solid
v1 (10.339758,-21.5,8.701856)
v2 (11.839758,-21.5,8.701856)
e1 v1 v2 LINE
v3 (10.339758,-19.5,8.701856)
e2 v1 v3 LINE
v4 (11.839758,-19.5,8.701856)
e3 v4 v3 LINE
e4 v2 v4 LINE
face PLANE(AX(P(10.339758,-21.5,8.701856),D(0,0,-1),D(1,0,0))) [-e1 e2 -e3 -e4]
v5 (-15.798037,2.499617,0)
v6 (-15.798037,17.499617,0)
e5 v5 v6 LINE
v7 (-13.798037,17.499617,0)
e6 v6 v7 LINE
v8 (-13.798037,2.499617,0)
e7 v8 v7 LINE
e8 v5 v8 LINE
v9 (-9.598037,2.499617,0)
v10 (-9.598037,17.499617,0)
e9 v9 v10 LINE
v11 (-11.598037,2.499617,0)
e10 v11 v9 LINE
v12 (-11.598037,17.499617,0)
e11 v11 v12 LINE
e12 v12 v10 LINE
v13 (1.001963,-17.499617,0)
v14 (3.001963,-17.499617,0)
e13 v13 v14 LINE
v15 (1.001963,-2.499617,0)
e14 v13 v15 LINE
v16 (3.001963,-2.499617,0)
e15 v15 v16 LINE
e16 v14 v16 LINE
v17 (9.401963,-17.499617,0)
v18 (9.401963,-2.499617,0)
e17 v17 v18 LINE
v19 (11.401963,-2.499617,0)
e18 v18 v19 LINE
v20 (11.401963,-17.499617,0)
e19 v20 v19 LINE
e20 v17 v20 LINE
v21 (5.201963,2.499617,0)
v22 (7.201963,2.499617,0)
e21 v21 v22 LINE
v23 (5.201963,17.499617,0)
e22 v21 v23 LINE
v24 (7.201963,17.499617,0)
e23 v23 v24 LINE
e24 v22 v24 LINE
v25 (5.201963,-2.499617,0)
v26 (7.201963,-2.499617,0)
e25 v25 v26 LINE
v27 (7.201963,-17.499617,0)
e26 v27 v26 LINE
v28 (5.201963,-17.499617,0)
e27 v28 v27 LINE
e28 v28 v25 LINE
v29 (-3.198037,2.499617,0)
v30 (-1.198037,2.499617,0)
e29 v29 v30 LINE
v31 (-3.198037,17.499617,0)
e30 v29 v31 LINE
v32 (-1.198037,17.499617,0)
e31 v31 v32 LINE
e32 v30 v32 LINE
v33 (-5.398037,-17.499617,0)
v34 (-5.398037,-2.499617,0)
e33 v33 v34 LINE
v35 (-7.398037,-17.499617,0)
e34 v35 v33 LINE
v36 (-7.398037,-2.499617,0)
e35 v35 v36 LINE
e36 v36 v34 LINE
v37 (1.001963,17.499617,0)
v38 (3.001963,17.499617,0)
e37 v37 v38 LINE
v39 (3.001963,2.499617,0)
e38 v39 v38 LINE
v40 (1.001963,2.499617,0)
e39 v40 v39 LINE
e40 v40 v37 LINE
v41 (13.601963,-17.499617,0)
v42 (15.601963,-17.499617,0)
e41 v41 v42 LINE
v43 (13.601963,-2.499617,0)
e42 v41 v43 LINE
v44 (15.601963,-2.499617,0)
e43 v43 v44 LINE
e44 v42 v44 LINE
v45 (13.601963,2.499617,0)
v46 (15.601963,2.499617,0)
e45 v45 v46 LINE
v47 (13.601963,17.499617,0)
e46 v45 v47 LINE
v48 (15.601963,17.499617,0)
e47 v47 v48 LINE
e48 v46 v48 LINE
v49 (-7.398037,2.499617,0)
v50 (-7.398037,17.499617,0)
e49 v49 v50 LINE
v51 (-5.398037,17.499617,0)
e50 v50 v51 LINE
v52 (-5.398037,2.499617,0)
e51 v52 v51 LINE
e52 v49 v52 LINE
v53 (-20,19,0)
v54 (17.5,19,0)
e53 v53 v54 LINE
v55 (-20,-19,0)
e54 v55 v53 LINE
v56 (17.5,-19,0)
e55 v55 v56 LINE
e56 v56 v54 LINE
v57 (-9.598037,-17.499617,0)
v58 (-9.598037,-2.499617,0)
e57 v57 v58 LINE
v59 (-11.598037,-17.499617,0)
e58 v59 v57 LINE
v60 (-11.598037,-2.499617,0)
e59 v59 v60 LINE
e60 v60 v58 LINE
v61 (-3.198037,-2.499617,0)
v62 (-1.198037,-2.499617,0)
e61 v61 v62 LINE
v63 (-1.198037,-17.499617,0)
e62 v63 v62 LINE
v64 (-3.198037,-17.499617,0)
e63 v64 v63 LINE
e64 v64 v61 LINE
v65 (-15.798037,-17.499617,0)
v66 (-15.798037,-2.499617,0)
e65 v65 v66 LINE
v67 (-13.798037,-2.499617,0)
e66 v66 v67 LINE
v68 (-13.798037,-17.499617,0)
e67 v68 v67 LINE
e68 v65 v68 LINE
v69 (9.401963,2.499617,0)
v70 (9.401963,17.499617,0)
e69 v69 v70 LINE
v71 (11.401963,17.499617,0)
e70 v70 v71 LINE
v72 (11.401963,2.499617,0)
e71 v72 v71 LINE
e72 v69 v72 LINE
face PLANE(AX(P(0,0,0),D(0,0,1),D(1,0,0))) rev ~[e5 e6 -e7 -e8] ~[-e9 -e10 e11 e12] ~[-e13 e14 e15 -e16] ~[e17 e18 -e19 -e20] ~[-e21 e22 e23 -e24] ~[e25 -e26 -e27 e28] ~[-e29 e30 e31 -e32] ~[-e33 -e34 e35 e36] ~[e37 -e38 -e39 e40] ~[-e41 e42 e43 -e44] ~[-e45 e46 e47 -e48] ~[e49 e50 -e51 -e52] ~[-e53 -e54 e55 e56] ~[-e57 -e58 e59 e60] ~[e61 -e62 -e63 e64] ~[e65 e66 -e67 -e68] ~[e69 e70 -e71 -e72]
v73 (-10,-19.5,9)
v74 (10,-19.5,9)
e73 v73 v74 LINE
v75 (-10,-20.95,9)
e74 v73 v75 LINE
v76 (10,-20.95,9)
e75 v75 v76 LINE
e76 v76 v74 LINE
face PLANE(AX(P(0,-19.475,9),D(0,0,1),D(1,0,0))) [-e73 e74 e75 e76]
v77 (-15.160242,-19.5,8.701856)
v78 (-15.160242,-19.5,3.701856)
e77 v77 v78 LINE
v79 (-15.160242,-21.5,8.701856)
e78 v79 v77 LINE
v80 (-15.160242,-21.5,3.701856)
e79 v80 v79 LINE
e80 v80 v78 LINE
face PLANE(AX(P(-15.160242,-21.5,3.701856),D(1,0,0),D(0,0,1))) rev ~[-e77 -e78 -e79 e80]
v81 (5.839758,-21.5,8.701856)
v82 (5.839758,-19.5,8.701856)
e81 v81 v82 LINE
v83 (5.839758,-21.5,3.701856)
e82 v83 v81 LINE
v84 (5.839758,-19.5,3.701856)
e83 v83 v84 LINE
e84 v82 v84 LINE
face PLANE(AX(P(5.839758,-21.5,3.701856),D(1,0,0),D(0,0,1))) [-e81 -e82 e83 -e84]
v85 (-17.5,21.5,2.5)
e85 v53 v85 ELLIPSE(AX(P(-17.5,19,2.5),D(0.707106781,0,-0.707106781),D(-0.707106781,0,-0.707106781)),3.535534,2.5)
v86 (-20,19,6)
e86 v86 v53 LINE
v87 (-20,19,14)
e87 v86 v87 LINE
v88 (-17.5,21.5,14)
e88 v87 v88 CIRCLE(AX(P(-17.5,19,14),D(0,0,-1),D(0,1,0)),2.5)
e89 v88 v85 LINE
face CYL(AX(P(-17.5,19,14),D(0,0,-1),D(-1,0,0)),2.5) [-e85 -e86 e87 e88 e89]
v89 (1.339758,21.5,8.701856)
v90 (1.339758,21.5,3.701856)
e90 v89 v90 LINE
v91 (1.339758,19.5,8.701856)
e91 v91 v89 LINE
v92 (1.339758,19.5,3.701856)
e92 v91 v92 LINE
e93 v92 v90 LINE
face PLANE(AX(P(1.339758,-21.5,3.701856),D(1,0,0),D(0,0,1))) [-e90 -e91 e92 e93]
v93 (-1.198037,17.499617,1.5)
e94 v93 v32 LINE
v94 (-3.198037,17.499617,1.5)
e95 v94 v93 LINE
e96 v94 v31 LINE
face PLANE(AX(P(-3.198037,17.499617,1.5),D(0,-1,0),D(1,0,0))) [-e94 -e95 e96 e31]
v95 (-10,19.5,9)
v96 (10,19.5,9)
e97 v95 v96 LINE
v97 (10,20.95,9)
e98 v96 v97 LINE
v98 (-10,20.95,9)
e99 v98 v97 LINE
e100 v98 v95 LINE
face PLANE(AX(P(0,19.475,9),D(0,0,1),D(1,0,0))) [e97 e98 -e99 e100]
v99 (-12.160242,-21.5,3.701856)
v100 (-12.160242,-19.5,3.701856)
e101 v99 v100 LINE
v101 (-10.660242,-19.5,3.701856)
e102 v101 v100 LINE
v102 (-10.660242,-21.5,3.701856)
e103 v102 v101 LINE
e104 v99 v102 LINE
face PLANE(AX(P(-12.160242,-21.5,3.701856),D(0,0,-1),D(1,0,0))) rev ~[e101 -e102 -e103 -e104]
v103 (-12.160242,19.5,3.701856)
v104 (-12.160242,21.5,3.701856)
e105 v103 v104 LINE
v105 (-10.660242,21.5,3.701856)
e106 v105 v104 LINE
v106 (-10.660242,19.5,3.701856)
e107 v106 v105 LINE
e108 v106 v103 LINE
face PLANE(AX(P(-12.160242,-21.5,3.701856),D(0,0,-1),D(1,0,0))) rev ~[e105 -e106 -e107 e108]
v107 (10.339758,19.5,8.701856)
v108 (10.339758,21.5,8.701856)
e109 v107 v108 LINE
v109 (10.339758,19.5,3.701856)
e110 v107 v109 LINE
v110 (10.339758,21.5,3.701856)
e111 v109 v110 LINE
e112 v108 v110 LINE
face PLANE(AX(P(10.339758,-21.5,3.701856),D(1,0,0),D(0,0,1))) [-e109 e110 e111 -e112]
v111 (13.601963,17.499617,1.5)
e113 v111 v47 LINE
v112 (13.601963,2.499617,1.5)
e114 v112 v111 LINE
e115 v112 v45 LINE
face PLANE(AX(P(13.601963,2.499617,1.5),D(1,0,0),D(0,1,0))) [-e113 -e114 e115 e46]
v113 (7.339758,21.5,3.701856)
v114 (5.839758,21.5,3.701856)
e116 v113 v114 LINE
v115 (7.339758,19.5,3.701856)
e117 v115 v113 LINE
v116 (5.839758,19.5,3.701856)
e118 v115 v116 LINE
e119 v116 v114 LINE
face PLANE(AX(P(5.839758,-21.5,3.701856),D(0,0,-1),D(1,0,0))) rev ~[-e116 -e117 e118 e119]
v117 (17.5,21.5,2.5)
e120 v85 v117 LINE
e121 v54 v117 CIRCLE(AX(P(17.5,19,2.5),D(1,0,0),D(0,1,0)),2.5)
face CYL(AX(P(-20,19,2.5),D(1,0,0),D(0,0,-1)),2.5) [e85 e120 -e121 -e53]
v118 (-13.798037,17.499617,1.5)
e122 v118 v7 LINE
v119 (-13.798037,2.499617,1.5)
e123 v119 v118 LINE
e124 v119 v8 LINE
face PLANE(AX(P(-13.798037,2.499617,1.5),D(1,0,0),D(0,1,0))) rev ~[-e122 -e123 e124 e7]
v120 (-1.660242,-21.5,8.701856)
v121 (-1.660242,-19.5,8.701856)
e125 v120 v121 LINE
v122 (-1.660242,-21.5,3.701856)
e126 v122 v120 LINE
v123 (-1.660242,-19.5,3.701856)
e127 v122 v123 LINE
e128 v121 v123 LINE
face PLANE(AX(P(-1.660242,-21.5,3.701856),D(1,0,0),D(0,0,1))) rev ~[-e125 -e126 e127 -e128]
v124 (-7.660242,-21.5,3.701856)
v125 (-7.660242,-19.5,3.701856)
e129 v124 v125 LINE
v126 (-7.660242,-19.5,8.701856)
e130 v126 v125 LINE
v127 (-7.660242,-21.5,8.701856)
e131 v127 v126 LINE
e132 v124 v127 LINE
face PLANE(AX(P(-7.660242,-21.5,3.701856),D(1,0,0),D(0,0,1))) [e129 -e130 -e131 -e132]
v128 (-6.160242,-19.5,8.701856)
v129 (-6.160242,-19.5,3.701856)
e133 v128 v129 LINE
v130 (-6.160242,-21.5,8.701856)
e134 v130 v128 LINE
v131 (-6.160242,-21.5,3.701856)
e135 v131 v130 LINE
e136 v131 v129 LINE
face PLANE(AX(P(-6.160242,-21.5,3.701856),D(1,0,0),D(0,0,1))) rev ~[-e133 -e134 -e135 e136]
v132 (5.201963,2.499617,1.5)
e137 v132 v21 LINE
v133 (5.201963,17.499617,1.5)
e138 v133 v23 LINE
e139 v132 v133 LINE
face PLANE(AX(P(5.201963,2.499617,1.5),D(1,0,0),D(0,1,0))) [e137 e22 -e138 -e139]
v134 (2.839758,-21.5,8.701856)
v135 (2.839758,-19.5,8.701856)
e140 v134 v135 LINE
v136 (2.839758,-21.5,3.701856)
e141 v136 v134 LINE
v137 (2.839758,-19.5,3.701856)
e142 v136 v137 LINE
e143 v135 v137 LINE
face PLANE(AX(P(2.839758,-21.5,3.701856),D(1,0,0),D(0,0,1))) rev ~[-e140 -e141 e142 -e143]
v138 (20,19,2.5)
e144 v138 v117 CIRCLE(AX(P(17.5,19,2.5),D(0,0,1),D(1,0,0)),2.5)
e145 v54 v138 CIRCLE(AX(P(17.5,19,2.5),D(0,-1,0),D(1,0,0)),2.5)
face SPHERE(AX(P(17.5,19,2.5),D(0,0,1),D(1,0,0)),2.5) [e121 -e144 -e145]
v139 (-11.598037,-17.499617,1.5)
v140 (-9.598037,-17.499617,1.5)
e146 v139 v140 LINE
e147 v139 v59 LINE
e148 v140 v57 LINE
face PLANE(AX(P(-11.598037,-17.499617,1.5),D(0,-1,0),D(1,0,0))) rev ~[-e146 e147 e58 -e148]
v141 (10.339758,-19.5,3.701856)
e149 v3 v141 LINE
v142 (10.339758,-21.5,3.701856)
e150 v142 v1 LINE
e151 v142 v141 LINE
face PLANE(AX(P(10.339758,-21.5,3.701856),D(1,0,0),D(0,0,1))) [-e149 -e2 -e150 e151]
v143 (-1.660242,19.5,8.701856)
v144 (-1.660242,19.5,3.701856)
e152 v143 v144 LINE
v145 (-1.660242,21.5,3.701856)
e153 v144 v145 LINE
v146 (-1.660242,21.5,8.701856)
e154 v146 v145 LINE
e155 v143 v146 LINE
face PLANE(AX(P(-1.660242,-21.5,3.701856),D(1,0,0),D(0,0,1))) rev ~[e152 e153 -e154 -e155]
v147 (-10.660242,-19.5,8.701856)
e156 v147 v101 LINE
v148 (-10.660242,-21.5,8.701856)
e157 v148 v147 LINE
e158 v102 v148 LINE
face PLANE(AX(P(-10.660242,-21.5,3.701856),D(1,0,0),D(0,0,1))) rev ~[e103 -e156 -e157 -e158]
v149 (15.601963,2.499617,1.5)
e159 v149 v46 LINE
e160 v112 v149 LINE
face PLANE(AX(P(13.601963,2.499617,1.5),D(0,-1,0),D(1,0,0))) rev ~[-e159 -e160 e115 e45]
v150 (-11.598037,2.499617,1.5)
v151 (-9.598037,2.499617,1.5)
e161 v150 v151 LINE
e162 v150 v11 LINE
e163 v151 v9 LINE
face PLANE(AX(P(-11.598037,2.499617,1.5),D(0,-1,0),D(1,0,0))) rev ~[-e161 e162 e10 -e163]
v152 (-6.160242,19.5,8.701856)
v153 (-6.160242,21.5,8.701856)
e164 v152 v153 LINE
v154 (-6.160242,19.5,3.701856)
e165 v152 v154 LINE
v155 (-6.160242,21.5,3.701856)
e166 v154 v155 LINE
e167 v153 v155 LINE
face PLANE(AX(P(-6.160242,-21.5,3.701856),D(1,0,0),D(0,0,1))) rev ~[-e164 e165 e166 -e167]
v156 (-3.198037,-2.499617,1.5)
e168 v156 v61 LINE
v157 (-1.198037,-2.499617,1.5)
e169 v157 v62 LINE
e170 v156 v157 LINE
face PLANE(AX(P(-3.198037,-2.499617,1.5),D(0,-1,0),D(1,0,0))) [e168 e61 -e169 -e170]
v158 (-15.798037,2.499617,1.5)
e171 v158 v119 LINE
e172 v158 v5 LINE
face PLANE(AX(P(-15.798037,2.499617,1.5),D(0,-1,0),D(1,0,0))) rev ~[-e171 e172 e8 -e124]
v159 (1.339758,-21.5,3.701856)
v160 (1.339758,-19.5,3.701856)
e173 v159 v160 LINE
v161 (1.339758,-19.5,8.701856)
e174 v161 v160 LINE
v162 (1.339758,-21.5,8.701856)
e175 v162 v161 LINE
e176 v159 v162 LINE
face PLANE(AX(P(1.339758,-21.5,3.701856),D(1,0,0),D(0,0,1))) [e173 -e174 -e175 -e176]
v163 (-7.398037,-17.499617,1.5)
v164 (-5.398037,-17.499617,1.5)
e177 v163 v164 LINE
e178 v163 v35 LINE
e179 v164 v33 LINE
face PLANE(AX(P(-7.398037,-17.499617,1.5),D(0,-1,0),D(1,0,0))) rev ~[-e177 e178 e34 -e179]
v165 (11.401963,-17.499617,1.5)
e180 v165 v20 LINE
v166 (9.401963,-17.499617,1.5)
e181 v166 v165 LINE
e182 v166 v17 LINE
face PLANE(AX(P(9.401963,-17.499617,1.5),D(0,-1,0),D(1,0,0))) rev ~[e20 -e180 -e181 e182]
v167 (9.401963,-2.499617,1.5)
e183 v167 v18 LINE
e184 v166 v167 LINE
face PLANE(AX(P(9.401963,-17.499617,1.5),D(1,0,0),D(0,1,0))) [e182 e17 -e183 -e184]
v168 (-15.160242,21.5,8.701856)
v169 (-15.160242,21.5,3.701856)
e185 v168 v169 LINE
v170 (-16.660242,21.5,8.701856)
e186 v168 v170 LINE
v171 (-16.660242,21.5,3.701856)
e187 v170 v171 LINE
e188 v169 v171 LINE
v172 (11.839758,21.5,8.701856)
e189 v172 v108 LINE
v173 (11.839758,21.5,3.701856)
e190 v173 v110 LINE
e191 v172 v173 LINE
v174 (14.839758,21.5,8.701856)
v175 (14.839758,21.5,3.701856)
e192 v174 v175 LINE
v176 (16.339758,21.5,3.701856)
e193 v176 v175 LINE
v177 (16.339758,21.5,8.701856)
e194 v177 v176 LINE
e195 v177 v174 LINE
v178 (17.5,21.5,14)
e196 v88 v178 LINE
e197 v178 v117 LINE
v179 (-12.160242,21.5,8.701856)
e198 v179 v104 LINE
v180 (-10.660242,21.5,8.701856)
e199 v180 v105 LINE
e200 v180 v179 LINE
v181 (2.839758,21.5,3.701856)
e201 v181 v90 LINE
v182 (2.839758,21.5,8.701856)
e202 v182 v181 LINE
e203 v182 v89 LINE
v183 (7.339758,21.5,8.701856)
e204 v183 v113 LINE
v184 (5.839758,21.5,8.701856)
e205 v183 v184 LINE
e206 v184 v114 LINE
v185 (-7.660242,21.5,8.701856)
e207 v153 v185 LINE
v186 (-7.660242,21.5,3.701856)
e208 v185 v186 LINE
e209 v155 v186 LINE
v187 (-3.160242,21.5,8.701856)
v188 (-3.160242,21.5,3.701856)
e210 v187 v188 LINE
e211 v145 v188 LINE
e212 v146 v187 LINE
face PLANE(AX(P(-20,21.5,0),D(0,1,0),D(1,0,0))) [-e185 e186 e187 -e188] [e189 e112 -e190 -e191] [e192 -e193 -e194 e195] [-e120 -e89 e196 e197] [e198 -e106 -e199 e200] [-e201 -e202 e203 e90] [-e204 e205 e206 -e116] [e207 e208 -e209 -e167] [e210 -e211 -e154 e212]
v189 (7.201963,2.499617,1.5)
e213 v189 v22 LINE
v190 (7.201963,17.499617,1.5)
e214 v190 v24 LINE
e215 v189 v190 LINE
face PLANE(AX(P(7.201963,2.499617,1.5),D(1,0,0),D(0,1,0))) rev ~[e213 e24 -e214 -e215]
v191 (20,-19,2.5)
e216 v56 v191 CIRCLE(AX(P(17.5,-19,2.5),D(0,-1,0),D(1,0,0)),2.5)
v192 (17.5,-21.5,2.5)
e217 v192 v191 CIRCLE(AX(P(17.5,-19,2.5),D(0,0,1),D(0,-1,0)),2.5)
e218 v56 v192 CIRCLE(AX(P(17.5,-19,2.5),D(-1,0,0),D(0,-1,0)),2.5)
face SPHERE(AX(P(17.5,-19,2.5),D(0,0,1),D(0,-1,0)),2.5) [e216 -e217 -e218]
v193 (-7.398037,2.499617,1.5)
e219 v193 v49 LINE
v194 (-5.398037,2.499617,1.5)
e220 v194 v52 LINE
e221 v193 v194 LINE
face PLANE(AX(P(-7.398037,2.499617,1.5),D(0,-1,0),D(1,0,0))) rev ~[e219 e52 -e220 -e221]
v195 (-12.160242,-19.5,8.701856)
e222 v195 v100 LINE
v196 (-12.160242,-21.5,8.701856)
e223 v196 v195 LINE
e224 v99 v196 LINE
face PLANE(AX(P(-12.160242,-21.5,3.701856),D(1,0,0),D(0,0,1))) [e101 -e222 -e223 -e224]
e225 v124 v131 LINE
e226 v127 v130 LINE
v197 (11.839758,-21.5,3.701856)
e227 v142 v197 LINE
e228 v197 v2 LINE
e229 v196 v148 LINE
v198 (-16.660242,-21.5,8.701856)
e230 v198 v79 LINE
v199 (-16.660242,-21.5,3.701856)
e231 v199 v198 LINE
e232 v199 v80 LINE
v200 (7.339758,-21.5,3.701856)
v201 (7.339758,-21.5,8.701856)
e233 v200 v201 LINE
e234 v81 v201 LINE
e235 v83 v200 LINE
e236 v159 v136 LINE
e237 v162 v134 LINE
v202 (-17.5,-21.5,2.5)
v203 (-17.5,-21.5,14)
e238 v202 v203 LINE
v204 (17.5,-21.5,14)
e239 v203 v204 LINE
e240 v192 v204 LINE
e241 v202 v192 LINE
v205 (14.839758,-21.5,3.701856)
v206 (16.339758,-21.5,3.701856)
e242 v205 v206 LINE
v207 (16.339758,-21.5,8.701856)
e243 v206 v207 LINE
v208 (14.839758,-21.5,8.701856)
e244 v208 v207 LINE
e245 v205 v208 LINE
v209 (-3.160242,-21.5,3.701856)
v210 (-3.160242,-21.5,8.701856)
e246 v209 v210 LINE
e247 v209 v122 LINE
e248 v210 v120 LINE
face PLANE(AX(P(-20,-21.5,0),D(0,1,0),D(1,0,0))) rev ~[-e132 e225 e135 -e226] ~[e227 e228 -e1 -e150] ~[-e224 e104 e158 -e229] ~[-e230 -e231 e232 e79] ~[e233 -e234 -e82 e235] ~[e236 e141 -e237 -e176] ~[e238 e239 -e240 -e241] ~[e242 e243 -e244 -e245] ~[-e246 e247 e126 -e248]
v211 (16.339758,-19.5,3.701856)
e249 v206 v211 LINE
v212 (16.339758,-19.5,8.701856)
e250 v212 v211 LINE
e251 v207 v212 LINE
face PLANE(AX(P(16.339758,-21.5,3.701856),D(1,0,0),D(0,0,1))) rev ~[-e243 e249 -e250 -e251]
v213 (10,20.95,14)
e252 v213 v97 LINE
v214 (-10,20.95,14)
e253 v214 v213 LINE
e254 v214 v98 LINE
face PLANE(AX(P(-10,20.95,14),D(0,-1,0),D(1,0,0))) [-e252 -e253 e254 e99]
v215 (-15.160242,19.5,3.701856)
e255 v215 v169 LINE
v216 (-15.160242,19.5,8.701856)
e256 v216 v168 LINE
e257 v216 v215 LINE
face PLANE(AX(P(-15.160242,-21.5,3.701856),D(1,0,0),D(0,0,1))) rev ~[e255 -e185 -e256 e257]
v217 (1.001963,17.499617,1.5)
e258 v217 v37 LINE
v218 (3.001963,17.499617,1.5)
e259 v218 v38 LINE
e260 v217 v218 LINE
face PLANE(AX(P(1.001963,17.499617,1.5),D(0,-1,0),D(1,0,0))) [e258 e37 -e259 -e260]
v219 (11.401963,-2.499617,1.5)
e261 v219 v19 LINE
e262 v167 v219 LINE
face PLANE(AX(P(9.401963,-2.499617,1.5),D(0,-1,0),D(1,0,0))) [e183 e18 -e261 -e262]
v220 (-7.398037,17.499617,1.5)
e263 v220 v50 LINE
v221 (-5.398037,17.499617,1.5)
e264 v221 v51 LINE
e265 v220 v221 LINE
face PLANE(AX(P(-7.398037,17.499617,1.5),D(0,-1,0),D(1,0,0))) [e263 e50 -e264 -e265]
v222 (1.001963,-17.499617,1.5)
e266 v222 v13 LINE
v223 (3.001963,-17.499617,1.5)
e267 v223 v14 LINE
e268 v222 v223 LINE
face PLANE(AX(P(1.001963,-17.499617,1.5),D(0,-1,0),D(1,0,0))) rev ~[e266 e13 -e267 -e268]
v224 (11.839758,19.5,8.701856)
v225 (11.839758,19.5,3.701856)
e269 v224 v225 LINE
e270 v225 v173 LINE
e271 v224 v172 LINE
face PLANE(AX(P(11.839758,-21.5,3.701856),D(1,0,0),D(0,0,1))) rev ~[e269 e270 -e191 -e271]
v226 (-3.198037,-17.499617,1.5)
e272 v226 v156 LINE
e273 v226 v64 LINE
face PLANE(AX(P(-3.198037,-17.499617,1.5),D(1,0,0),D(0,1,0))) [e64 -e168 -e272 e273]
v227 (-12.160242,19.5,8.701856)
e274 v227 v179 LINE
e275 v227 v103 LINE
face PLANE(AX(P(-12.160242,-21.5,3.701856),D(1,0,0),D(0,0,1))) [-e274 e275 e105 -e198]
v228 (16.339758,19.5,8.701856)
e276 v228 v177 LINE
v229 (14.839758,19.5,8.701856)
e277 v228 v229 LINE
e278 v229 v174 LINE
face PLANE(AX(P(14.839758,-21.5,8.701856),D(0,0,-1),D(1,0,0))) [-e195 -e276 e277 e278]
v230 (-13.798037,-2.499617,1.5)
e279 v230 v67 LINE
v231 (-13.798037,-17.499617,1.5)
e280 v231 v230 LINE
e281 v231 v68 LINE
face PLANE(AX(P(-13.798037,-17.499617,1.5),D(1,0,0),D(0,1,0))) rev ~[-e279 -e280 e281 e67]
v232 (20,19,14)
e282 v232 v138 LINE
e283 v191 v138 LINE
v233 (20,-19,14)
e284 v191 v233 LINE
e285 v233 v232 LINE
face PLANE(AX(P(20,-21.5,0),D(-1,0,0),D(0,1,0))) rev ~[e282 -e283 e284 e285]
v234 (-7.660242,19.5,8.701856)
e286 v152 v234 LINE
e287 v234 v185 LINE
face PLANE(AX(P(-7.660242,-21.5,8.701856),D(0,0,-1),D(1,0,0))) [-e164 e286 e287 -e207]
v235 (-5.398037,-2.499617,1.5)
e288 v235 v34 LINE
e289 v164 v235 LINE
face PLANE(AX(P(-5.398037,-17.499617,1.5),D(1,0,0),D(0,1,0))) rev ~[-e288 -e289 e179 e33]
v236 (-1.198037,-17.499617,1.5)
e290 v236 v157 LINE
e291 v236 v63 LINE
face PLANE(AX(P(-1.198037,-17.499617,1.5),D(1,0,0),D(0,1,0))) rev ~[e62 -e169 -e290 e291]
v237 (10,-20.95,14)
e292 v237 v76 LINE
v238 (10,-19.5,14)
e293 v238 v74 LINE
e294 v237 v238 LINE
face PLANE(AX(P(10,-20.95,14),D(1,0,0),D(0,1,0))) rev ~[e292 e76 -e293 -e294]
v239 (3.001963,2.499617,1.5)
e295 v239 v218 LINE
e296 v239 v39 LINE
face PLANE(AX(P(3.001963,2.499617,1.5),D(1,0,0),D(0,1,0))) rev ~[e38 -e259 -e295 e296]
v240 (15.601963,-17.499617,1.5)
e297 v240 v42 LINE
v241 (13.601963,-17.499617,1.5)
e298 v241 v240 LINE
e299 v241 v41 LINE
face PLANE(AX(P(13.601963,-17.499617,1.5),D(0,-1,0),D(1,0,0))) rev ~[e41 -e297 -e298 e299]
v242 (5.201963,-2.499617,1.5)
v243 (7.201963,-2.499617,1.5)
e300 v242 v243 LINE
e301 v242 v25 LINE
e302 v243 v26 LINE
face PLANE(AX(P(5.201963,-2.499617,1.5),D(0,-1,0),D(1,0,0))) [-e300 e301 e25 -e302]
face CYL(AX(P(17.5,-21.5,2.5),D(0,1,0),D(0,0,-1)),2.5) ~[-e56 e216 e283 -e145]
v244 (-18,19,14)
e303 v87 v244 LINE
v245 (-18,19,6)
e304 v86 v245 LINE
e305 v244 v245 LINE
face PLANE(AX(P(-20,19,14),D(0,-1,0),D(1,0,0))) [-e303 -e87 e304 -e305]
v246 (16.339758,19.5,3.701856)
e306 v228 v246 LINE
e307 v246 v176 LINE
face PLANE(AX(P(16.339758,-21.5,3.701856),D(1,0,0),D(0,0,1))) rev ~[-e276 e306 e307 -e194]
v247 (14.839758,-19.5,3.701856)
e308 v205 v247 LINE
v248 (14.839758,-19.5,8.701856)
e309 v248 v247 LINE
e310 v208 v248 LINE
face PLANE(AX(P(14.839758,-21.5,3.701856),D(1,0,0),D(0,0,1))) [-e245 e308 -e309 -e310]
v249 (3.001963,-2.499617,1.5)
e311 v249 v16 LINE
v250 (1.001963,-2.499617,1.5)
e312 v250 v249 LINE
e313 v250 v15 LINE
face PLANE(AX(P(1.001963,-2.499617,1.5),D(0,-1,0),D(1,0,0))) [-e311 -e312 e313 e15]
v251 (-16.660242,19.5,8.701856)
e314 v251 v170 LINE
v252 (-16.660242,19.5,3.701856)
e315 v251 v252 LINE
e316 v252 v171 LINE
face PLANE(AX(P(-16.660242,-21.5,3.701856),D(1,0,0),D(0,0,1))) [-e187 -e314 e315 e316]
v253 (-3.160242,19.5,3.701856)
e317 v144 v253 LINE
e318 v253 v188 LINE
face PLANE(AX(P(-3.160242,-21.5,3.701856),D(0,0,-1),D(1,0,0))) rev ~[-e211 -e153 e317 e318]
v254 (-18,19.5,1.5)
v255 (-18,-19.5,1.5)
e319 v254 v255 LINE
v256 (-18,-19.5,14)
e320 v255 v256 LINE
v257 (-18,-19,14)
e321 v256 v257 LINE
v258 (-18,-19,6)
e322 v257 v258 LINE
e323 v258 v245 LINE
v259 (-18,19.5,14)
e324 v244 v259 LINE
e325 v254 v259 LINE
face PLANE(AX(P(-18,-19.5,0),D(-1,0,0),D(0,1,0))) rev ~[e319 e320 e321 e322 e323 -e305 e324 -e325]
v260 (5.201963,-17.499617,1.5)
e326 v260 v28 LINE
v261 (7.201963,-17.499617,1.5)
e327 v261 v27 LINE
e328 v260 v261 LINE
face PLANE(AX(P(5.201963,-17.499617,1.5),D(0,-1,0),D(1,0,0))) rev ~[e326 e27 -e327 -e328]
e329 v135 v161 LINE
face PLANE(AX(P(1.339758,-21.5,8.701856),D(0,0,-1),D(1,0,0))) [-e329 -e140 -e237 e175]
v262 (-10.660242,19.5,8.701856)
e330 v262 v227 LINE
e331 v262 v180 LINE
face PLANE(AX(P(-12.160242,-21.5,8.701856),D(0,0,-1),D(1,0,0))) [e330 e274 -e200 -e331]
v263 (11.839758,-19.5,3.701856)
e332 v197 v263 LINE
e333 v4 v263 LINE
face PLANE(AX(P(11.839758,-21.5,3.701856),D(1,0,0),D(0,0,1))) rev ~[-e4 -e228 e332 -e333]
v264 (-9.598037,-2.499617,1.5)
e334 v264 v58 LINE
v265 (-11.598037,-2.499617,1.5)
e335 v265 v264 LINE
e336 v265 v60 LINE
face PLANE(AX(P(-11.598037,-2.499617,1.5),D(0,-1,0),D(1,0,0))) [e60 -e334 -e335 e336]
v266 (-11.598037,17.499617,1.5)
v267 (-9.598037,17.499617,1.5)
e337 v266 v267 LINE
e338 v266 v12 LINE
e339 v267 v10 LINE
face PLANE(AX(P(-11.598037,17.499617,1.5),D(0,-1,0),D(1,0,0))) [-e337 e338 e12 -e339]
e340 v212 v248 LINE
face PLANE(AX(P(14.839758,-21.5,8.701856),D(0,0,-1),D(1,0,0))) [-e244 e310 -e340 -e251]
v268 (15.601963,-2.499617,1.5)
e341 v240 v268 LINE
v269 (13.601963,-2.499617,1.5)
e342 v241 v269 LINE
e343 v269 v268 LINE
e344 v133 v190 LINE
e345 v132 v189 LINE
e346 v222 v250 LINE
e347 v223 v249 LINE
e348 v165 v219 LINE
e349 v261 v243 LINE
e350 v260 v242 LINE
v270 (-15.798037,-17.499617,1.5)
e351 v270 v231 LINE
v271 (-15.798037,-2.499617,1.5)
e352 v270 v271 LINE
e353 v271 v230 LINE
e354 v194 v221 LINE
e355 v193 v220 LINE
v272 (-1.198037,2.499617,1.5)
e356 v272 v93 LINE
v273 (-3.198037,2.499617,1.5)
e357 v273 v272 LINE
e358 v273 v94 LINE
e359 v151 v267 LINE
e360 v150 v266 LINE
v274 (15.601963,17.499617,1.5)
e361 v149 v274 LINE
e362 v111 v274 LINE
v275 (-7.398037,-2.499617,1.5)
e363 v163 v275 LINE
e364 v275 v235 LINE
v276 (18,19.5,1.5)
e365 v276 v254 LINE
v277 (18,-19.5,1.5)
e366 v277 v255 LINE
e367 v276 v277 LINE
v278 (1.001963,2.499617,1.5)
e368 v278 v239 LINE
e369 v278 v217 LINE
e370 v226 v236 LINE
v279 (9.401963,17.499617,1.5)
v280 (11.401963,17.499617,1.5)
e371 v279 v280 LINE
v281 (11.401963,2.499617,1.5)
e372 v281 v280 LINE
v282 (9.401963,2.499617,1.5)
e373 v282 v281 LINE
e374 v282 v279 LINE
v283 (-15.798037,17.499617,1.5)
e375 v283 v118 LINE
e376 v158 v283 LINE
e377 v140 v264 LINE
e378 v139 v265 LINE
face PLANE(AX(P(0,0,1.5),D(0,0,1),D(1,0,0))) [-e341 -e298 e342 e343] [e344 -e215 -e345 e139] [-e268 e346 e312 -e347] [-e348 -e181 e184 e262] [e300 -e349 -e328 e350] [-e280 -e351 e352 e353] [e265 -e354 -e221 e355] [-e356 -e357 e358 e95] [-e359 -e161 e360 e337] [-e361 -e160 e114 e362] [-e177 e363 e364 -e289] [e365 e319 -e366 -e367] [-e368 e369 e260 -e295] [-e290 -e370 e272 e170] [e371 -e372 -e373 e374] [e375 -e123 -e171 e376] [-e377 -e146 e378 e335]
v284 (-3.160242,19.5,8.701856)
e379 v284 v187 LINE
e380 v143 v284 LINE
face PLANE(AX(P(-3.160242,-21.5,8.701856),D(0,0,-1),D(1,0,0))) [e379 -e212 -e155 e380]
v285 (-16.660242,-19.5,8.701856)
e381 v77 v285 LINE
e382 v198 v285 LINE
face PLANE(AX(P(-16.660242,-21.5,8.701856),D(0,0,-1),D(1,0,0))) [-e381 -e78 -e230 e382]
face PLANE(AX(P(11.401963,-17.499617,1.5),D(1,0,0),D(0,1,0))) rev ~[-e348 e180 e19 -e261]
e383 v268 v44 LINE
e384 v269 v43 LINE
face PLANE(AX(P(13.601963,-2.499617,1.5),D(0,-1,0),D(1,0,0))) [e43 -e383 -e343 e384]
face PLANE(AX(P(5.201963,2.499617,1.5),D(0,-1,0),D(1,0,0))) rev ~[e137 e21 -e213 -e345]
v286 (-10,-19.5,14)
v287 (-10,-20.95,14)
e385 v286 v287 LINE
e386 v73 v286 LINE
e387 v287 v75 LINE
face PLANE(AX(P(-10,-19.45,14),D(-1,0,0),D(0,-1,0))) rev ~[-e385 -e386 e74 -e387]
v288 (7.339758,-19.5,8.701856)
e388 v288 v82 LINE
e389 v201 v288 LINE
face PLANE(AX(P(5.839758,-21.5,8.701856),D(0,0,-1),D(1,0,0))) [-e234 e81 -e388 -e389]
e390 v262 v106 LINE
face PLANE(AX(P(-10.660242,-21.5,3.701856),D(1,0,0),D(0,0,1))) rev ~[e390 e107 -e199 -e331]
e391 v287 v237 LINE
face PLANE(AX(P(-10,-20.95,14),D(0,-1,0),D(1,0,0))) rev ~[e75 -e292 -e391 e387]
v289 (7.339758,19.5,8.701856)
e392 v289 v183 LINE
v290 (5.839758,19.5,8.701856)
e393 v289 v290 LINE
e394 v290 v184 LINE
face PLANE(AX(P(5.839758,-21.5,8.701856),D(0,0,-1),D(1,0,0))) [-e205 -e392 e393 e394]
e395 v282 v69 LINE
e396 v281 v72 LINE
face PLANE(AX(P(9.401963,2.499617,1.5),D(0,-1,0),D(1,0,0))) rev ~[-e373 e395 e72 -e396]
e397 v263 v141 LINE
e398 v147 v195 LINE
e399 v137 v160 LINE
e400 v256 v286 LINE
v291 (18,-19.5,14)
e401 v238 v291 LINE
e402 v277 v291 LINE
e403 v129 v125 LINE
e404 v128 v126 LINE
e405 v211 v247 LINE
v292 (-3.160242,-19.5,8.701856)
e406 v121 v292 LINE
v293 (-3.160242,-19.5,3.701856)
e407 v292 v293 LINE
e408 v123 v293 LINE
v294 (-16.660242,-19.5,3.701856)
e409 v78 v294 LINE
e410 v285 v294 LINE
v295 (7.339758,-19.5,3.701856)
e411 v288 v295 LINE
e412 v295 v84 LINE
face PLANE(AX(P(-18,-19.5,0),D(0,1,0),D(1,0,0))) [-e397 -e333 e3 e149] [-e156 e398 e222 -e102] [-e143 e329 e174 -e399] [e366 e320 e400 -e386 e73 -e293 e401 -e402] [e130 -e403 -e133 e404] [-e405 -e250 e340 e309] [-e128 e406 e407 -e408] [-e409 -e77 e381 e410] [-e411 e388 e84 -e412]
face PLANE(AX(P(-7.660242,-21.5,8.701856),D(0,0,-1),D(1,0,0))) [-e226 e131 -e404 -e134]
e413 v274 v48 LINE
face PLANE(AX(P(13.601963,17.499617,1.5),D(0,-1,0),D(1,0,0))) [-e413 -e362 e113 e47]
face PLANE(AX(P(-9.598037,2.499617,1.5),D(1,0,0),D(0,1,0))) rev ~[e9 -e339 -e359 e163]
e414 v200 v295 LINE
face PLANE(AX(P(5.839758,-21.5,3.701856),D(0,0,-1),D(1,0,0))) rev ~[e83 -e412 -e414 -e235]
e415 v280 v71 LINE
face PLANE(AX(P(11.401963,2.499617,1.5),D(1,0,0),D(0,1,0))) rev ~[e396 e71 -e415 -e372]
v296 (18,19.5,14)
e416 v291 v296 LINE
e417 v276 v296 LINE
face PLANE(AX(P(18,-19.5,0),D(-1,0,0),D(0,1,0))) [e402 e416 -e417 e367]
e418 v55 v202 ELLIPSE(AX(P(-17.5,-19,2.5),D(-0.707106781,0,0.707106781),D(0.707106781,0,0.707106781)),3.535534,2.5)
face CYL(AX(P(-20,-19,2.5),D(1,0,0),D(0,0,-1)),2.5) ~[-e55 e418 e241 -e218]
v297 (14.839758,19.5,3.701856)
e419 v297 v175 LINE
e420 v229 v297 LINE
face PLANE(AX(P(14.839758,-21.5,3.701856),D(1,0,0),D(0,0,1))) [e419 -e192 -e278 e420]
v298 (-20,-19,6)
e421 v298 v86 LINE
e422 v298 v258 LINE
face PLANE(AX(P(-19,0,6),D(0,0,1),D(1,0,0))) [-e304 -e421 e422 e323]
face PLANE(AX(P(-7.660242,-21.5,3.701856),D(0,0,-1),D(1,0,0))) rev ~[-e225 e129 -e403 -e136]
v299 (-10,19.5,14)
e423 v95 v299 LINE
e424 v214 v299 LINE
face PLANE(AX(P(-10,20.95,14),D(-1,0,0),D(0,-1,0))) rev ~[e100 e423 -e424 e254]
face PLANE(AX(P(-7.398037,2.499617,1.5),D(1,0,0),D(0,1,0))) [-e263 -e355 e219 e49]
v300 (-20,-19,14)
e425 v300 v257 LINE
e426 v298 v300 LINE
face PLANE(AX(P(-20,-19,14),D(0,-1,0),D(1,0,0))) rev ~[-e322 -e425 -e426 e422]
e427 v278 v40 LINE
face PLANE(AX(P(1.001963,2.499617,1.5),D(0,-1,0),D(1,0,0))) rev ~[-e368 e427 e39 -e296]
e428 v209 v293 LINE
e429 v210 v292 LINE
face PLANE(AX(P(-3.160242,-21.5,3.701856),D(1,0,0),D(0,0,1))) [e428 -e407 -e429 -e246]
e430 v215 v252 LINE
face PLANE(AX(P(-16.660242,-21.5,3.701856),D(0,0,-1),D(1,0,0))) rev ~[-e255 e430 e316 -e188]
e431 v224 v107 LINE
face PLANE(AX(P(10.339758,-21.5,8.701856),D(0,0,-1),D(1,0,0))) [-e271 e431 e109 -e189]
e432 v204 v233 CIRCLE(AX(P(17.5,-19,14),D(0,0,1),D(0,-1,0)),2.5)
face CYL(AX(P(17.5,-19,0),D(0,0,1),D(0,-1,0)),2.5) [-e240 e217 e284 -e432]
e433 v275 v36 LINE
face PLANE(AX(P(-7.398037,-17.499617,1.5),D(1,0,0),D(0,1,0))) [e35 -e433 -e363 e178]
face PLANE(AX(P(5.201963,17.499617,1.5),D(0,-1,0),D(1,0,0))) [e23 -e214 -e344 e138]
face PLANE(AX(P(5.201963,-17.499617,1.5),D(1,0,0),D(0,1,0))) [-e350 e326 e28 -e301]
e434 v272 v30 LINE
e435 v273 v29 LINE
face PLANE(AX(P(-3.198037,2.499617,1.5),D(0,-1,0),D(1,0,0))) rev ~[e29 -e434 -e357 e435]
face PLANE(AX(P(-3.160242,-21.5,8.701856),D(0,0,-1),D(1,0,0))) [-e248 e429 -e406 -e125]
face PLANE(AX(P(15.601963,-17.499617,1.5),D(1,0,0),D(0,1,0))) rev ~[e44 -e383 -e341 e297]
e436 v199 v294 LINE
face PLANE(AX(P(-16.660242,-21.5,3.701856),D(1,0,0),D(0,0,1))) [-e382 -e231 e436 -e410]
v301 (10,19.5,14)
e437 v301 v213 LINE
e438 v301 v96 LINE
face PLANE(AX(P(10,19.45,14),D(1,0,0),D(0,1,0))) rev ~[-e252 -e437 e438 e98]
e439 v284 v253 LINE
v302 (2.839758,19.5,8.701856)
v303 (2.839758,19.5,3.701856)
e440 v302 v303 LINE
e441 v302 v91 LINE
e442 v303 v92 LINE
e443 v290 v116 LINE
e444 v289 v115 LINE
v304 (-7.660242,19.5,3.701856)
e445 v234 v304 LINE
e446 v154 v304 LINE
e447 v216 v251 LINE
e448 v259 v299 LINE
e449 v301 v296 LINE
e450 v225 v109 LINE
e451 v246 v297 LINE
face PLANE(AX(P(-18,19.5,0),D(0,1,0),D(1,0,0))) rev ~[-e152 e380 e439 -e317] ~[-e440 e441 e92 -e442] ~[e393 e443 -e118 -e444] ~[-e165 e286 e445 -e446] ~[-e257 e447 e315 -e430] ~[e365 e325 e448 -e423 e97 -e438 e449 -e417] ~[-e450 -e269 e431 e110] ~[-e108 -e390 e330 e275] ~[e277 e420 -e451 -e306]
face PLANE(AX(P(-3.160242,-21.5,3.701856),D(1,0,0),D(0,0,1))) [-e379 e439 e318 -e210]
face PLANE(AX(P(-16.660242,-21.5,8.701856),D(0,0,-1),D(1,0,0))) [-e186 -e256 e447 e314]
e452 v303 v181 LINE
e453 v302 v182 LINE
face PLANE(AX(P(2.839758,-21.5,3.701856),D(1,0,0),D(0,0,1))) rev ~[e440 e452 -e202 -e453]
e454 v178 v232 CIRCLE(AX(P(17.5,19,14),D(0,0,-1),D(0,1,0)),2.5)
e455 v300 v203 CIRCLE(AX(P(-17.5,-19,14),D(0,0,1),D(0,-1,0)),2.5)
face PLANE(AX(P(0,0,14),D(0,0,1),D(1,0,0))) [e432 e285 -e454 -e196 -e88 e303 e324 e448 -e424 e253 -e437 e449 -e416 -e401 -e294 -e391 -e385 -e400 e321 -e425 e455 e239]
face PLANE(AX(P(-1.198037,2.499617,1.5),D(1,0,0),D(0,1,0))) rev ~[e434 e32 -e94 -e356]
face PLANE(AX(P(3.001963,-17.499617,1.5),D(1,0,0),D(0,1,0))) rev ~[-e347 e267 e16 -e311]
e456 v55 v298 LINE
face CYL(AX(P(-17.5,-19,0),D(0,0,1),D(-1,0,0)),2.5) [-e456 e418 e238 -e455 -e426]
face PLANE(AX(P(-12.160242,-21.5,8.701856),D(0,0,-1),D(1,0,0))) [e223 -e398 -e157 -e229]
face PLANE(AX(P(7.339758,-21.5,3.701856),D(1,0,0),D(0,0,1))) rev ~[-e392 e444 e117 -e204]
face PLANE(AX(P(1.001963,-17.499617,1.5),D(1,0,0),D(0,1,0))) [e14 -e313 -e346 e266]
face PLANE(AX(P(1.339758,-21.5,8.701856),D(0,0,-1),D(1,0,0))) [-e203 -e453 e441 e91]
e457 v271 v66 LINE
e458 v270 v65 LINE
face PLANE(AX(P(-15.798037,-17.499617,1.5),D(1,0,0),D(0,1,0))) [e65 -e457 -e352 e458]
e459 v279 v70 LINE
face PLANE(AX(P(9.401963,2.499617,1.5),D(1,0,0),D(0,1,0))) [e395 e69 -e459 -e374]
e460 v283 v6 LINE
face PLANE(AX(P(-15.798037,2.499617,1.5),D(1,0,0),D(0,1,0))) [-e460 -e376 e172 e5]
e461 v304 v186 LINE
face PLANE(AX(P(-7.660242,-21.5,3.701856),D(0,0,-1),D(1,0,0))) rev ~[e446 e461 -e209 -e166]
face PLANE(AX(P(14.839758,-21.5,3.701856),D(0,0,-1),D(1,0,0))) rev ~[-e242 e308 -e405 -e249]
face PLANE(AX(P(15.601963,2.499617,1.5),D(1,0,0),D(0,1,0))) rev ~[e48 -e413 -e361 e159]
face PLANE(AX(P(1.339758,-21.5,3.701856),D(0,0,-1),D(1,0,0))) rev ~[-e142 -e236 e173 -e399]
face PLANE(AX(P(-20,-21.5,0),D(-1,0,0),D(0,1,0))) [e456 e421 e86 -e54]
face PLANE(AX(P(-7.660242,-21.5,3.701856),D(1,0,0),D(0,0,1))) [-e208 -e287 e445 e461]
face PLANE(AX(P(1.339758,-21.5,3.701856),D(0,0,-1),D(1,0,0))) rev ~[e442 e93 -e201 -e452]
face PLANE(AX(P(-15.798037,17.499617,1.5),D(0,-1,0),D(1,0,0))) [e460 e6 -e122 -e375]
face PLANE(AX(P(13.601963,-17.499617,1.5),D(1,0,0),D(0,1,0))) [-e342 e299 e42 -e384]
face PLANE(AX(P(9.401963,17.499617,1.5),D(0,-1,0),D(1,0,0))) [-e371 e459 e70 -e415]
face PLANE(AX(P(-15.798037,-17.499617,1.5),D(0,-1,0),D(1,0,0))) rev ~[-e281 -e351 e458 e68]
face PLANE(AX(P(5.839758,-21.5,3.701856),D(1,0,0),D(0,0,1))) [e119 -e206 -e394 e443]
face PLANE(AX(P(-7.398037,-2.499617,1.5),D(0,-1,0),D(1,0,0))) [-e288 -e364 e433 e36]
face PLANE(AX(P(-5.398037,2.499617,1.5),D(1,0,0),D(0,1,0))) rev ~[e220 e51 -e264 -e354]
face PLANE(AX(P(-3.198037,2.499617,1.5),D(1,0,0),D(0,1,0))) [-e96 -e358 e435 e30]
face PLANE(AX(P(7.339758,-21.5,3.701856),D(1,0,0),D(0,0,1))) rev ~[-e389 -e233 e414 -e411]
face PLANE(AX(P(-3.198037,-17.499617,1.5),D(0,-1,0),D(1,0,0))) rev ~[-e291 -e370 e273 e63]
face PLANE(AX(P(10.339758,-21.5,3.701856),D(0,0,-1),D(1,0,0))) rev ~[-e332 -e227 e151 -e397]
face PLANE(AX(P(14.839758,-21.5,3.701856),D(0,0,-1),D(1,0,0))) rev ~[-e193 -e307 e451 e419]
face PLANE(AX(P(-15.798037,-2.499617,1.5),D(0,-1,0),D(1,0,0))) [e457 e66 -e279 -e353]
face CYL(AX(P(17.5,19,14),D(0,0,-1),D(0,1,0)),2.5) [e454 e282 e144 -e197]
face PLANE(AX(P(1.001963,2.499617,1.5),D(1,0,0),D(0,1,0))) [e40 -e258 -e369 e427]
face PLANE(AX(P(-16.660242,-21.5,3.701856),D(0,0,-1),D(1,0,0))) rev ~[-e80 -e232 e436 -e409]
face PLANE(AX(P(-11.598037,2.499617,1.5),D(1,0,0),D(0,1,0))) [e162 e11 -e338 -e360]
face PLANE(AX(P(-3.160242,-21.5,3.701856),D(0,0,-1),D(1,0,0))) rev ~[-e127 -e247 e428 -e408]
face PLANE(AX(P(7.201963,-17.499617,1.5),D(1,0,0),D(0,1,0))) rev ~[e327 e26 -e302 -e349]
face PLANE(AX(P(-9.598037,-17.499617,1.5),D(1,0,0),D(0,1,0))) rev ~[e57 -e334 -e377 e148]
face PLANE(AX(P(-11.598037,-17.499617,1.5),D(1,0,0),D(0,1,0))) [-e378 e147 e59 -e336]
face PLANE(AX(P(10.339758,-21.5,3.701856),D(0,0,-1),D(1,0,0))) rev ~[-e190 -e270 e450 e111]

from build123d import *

# Parameters (mm, degrees)
F0_W      = 40
F0_H      = 43
F0_W_2    = 36
F0_H_2    = 39
F1_DEPTH  = 1.5
F2_DEPTH  = 14
F3_W      = 2
F3_H      = 38
F4_DEPTH  = 8
F5_R      = 2.5
F6_W      = 20
F6_H      = 0.05
F6_H_2    = 1.45
F7_DEPTH  = 5
F8_W      = 2
F8_H      = 15
F9_DEPTH  = 25
F10_W     = 1.5
F10_H     = 5
F11_DEPTH = 50


with BuildPart() as f1:
    # F0 (on Top) → F1 (new body)
    with BuildSketch(Plane.XY):
        Rectangle(F0_W, F0_H)
        Rectangle(F0_W_2, F0_H_2, mode=Mode.SUBTRACT)
        Rectangle(F0_W_2, F0_H_2)
    extrude(amount=F1_DEPTH)

    # F0 (on Top) → F2 (join)
    with BuildSketch(Plane.XY):
        Rectangle(F0_W, F0_H)
        Rectangle(F0_W_2, F0_H_2, mode=Mode.SUBTRACT)
    extrude(amount=F2_DEPTH)

    # F3 (on face) → F4 (cut)
    with BuildSketch(Plane.XY.offset(14)):
        with Locations((-19, 0)):
            Rectangle(F3_W, F3_H)
    extrude(amount=-F4_DEPTH, mode=Mode.SUBTRACT)

    # F5
    f5_edges = [f1.edges().sort_by_distance(p)[0] for p in [
        (-20, -21.5, 7),
        (20, -21.5, 7),
        (20, 21.5, 7),
        (-20, 21.5, 7),
        (0, -21.5, 0),
        (20, 0, 0),
        (0, 21.5, 0),
    ]]
    fillet(f5_edges, radius=F5_R)

    # F6 (on face) → F7 (cut)
    with BuildSketch(Plane.XY.offset(14)):
        with Locations((0, 19.475)):
            Rectangle(F6_W, F6_H)
        with Locations((0, -19.475)):
            Rectangle(F6_W, F6_H)
        with Locations((0, -20.225)):
            Rectangle(F6_W, F6_H_2)
        with Locations((0, 20.225)):
            Rectangle(F6_W, F6_H_2)
    extrude(amount=-F7_DEPTH, mode=Mode.SUBTRACT)

    # F8 (on face) → F9 (cut)
    with BuildSketch(Plane.XY.offset(1.5)):
        with Locations((-14.7980369404, 9.9996174034)):
            Rectangle(F8_W, F8_H)
        with Locations((-14.7980369404, -9.9996174034)):
            Rectangle(F8_W, F8_H)
        with Locations((-10.5980369404, 9.9996174034)):
            Rectangle(F8_W, F8_H)
        with Locations((-10.5980369404, -9.9996174034)):
            Rectangle(F8_W, F8_H)
        with Locations((-6.3980369404, 9.9996174034)):
            Rectangle(F8_W, F8_H)
        with Locations((-6.3980369404, -9.9996174034)):
            Rectangle(F8_W, F8_H)
        with Locations((-2.1980369404, 9.9996174034)):
            Rectangle(F8_W, F8_H)
        with Locations((-2.1980369404, -9.9996174034)):
            Rectangle(F8_W, F8_H)
        with Locations((2.0019630596, 9.9996174034)):
            Rectangle(F8_W, F8_H)
        with Locations((2.0019630596, -9.9996174034)):
            Rectangle(F8_W, F8_H)
        with Locations((6.2019630596, 9.9996174034)):
            Rectangle(F8_W, F8_H)
        with Locations((6.2019630596, -9.9996174034)):
            Rectangle(F8_W, F8_H)
        with Locations((10.4019630596, 9.9996174034)):
            Rectangle(F8_W, F8_H)
        with Locations((10.4019630596, -9.9996174034)):
            Rectangle(F8_W, F8_H)
        with Locations((14.6019630596, 9.9996174034)):
            Rectangle(F8_W, F8_H)
        with Locations((14.6019630596, -9.9996174034)):
            Rectangle(F8_W, F8_H)
    extrude(amount=-F9_DEPTH, mode=Mode.SUBTRACT)

    # F10 (on face) → F11 (cut)
    with BuildSketch(Plane.XZ.offset(21.5)):
        with Locations((-15.9102423415, 6.201856127)):
            Rectangle(F10_W, F10_H)
        with Locations((-11.4102423415, 6.201856127)):
            Rectangle(F10_W, F10_H)
        with Locations((-6.9102423415, 6.201856127)):
            Rectangle(F10_W, F10_H)
        with Locations((-2.4102423415, 6.201856127)):
            Rectangle(F10_W, F10_H)
        with Locations((2.0897576585, 6.201856127)):
            Rectangle(F10_W, F10_H)
        with Locations((6.5897576585, 6.201856127)):
            Rectangle(F10_W, F10_H)
        with Locations((11.0897576585, 6.201856127)):
            Rectangle(F10_W, F10_H)
        with Locations((15.5897576585, 6.201856127)):
            Rectangle(F10_W, F10_H)
    extrude(amount=-F11_DEPTH, mode=Mode.SUBTRACT)


solid = f1.part
